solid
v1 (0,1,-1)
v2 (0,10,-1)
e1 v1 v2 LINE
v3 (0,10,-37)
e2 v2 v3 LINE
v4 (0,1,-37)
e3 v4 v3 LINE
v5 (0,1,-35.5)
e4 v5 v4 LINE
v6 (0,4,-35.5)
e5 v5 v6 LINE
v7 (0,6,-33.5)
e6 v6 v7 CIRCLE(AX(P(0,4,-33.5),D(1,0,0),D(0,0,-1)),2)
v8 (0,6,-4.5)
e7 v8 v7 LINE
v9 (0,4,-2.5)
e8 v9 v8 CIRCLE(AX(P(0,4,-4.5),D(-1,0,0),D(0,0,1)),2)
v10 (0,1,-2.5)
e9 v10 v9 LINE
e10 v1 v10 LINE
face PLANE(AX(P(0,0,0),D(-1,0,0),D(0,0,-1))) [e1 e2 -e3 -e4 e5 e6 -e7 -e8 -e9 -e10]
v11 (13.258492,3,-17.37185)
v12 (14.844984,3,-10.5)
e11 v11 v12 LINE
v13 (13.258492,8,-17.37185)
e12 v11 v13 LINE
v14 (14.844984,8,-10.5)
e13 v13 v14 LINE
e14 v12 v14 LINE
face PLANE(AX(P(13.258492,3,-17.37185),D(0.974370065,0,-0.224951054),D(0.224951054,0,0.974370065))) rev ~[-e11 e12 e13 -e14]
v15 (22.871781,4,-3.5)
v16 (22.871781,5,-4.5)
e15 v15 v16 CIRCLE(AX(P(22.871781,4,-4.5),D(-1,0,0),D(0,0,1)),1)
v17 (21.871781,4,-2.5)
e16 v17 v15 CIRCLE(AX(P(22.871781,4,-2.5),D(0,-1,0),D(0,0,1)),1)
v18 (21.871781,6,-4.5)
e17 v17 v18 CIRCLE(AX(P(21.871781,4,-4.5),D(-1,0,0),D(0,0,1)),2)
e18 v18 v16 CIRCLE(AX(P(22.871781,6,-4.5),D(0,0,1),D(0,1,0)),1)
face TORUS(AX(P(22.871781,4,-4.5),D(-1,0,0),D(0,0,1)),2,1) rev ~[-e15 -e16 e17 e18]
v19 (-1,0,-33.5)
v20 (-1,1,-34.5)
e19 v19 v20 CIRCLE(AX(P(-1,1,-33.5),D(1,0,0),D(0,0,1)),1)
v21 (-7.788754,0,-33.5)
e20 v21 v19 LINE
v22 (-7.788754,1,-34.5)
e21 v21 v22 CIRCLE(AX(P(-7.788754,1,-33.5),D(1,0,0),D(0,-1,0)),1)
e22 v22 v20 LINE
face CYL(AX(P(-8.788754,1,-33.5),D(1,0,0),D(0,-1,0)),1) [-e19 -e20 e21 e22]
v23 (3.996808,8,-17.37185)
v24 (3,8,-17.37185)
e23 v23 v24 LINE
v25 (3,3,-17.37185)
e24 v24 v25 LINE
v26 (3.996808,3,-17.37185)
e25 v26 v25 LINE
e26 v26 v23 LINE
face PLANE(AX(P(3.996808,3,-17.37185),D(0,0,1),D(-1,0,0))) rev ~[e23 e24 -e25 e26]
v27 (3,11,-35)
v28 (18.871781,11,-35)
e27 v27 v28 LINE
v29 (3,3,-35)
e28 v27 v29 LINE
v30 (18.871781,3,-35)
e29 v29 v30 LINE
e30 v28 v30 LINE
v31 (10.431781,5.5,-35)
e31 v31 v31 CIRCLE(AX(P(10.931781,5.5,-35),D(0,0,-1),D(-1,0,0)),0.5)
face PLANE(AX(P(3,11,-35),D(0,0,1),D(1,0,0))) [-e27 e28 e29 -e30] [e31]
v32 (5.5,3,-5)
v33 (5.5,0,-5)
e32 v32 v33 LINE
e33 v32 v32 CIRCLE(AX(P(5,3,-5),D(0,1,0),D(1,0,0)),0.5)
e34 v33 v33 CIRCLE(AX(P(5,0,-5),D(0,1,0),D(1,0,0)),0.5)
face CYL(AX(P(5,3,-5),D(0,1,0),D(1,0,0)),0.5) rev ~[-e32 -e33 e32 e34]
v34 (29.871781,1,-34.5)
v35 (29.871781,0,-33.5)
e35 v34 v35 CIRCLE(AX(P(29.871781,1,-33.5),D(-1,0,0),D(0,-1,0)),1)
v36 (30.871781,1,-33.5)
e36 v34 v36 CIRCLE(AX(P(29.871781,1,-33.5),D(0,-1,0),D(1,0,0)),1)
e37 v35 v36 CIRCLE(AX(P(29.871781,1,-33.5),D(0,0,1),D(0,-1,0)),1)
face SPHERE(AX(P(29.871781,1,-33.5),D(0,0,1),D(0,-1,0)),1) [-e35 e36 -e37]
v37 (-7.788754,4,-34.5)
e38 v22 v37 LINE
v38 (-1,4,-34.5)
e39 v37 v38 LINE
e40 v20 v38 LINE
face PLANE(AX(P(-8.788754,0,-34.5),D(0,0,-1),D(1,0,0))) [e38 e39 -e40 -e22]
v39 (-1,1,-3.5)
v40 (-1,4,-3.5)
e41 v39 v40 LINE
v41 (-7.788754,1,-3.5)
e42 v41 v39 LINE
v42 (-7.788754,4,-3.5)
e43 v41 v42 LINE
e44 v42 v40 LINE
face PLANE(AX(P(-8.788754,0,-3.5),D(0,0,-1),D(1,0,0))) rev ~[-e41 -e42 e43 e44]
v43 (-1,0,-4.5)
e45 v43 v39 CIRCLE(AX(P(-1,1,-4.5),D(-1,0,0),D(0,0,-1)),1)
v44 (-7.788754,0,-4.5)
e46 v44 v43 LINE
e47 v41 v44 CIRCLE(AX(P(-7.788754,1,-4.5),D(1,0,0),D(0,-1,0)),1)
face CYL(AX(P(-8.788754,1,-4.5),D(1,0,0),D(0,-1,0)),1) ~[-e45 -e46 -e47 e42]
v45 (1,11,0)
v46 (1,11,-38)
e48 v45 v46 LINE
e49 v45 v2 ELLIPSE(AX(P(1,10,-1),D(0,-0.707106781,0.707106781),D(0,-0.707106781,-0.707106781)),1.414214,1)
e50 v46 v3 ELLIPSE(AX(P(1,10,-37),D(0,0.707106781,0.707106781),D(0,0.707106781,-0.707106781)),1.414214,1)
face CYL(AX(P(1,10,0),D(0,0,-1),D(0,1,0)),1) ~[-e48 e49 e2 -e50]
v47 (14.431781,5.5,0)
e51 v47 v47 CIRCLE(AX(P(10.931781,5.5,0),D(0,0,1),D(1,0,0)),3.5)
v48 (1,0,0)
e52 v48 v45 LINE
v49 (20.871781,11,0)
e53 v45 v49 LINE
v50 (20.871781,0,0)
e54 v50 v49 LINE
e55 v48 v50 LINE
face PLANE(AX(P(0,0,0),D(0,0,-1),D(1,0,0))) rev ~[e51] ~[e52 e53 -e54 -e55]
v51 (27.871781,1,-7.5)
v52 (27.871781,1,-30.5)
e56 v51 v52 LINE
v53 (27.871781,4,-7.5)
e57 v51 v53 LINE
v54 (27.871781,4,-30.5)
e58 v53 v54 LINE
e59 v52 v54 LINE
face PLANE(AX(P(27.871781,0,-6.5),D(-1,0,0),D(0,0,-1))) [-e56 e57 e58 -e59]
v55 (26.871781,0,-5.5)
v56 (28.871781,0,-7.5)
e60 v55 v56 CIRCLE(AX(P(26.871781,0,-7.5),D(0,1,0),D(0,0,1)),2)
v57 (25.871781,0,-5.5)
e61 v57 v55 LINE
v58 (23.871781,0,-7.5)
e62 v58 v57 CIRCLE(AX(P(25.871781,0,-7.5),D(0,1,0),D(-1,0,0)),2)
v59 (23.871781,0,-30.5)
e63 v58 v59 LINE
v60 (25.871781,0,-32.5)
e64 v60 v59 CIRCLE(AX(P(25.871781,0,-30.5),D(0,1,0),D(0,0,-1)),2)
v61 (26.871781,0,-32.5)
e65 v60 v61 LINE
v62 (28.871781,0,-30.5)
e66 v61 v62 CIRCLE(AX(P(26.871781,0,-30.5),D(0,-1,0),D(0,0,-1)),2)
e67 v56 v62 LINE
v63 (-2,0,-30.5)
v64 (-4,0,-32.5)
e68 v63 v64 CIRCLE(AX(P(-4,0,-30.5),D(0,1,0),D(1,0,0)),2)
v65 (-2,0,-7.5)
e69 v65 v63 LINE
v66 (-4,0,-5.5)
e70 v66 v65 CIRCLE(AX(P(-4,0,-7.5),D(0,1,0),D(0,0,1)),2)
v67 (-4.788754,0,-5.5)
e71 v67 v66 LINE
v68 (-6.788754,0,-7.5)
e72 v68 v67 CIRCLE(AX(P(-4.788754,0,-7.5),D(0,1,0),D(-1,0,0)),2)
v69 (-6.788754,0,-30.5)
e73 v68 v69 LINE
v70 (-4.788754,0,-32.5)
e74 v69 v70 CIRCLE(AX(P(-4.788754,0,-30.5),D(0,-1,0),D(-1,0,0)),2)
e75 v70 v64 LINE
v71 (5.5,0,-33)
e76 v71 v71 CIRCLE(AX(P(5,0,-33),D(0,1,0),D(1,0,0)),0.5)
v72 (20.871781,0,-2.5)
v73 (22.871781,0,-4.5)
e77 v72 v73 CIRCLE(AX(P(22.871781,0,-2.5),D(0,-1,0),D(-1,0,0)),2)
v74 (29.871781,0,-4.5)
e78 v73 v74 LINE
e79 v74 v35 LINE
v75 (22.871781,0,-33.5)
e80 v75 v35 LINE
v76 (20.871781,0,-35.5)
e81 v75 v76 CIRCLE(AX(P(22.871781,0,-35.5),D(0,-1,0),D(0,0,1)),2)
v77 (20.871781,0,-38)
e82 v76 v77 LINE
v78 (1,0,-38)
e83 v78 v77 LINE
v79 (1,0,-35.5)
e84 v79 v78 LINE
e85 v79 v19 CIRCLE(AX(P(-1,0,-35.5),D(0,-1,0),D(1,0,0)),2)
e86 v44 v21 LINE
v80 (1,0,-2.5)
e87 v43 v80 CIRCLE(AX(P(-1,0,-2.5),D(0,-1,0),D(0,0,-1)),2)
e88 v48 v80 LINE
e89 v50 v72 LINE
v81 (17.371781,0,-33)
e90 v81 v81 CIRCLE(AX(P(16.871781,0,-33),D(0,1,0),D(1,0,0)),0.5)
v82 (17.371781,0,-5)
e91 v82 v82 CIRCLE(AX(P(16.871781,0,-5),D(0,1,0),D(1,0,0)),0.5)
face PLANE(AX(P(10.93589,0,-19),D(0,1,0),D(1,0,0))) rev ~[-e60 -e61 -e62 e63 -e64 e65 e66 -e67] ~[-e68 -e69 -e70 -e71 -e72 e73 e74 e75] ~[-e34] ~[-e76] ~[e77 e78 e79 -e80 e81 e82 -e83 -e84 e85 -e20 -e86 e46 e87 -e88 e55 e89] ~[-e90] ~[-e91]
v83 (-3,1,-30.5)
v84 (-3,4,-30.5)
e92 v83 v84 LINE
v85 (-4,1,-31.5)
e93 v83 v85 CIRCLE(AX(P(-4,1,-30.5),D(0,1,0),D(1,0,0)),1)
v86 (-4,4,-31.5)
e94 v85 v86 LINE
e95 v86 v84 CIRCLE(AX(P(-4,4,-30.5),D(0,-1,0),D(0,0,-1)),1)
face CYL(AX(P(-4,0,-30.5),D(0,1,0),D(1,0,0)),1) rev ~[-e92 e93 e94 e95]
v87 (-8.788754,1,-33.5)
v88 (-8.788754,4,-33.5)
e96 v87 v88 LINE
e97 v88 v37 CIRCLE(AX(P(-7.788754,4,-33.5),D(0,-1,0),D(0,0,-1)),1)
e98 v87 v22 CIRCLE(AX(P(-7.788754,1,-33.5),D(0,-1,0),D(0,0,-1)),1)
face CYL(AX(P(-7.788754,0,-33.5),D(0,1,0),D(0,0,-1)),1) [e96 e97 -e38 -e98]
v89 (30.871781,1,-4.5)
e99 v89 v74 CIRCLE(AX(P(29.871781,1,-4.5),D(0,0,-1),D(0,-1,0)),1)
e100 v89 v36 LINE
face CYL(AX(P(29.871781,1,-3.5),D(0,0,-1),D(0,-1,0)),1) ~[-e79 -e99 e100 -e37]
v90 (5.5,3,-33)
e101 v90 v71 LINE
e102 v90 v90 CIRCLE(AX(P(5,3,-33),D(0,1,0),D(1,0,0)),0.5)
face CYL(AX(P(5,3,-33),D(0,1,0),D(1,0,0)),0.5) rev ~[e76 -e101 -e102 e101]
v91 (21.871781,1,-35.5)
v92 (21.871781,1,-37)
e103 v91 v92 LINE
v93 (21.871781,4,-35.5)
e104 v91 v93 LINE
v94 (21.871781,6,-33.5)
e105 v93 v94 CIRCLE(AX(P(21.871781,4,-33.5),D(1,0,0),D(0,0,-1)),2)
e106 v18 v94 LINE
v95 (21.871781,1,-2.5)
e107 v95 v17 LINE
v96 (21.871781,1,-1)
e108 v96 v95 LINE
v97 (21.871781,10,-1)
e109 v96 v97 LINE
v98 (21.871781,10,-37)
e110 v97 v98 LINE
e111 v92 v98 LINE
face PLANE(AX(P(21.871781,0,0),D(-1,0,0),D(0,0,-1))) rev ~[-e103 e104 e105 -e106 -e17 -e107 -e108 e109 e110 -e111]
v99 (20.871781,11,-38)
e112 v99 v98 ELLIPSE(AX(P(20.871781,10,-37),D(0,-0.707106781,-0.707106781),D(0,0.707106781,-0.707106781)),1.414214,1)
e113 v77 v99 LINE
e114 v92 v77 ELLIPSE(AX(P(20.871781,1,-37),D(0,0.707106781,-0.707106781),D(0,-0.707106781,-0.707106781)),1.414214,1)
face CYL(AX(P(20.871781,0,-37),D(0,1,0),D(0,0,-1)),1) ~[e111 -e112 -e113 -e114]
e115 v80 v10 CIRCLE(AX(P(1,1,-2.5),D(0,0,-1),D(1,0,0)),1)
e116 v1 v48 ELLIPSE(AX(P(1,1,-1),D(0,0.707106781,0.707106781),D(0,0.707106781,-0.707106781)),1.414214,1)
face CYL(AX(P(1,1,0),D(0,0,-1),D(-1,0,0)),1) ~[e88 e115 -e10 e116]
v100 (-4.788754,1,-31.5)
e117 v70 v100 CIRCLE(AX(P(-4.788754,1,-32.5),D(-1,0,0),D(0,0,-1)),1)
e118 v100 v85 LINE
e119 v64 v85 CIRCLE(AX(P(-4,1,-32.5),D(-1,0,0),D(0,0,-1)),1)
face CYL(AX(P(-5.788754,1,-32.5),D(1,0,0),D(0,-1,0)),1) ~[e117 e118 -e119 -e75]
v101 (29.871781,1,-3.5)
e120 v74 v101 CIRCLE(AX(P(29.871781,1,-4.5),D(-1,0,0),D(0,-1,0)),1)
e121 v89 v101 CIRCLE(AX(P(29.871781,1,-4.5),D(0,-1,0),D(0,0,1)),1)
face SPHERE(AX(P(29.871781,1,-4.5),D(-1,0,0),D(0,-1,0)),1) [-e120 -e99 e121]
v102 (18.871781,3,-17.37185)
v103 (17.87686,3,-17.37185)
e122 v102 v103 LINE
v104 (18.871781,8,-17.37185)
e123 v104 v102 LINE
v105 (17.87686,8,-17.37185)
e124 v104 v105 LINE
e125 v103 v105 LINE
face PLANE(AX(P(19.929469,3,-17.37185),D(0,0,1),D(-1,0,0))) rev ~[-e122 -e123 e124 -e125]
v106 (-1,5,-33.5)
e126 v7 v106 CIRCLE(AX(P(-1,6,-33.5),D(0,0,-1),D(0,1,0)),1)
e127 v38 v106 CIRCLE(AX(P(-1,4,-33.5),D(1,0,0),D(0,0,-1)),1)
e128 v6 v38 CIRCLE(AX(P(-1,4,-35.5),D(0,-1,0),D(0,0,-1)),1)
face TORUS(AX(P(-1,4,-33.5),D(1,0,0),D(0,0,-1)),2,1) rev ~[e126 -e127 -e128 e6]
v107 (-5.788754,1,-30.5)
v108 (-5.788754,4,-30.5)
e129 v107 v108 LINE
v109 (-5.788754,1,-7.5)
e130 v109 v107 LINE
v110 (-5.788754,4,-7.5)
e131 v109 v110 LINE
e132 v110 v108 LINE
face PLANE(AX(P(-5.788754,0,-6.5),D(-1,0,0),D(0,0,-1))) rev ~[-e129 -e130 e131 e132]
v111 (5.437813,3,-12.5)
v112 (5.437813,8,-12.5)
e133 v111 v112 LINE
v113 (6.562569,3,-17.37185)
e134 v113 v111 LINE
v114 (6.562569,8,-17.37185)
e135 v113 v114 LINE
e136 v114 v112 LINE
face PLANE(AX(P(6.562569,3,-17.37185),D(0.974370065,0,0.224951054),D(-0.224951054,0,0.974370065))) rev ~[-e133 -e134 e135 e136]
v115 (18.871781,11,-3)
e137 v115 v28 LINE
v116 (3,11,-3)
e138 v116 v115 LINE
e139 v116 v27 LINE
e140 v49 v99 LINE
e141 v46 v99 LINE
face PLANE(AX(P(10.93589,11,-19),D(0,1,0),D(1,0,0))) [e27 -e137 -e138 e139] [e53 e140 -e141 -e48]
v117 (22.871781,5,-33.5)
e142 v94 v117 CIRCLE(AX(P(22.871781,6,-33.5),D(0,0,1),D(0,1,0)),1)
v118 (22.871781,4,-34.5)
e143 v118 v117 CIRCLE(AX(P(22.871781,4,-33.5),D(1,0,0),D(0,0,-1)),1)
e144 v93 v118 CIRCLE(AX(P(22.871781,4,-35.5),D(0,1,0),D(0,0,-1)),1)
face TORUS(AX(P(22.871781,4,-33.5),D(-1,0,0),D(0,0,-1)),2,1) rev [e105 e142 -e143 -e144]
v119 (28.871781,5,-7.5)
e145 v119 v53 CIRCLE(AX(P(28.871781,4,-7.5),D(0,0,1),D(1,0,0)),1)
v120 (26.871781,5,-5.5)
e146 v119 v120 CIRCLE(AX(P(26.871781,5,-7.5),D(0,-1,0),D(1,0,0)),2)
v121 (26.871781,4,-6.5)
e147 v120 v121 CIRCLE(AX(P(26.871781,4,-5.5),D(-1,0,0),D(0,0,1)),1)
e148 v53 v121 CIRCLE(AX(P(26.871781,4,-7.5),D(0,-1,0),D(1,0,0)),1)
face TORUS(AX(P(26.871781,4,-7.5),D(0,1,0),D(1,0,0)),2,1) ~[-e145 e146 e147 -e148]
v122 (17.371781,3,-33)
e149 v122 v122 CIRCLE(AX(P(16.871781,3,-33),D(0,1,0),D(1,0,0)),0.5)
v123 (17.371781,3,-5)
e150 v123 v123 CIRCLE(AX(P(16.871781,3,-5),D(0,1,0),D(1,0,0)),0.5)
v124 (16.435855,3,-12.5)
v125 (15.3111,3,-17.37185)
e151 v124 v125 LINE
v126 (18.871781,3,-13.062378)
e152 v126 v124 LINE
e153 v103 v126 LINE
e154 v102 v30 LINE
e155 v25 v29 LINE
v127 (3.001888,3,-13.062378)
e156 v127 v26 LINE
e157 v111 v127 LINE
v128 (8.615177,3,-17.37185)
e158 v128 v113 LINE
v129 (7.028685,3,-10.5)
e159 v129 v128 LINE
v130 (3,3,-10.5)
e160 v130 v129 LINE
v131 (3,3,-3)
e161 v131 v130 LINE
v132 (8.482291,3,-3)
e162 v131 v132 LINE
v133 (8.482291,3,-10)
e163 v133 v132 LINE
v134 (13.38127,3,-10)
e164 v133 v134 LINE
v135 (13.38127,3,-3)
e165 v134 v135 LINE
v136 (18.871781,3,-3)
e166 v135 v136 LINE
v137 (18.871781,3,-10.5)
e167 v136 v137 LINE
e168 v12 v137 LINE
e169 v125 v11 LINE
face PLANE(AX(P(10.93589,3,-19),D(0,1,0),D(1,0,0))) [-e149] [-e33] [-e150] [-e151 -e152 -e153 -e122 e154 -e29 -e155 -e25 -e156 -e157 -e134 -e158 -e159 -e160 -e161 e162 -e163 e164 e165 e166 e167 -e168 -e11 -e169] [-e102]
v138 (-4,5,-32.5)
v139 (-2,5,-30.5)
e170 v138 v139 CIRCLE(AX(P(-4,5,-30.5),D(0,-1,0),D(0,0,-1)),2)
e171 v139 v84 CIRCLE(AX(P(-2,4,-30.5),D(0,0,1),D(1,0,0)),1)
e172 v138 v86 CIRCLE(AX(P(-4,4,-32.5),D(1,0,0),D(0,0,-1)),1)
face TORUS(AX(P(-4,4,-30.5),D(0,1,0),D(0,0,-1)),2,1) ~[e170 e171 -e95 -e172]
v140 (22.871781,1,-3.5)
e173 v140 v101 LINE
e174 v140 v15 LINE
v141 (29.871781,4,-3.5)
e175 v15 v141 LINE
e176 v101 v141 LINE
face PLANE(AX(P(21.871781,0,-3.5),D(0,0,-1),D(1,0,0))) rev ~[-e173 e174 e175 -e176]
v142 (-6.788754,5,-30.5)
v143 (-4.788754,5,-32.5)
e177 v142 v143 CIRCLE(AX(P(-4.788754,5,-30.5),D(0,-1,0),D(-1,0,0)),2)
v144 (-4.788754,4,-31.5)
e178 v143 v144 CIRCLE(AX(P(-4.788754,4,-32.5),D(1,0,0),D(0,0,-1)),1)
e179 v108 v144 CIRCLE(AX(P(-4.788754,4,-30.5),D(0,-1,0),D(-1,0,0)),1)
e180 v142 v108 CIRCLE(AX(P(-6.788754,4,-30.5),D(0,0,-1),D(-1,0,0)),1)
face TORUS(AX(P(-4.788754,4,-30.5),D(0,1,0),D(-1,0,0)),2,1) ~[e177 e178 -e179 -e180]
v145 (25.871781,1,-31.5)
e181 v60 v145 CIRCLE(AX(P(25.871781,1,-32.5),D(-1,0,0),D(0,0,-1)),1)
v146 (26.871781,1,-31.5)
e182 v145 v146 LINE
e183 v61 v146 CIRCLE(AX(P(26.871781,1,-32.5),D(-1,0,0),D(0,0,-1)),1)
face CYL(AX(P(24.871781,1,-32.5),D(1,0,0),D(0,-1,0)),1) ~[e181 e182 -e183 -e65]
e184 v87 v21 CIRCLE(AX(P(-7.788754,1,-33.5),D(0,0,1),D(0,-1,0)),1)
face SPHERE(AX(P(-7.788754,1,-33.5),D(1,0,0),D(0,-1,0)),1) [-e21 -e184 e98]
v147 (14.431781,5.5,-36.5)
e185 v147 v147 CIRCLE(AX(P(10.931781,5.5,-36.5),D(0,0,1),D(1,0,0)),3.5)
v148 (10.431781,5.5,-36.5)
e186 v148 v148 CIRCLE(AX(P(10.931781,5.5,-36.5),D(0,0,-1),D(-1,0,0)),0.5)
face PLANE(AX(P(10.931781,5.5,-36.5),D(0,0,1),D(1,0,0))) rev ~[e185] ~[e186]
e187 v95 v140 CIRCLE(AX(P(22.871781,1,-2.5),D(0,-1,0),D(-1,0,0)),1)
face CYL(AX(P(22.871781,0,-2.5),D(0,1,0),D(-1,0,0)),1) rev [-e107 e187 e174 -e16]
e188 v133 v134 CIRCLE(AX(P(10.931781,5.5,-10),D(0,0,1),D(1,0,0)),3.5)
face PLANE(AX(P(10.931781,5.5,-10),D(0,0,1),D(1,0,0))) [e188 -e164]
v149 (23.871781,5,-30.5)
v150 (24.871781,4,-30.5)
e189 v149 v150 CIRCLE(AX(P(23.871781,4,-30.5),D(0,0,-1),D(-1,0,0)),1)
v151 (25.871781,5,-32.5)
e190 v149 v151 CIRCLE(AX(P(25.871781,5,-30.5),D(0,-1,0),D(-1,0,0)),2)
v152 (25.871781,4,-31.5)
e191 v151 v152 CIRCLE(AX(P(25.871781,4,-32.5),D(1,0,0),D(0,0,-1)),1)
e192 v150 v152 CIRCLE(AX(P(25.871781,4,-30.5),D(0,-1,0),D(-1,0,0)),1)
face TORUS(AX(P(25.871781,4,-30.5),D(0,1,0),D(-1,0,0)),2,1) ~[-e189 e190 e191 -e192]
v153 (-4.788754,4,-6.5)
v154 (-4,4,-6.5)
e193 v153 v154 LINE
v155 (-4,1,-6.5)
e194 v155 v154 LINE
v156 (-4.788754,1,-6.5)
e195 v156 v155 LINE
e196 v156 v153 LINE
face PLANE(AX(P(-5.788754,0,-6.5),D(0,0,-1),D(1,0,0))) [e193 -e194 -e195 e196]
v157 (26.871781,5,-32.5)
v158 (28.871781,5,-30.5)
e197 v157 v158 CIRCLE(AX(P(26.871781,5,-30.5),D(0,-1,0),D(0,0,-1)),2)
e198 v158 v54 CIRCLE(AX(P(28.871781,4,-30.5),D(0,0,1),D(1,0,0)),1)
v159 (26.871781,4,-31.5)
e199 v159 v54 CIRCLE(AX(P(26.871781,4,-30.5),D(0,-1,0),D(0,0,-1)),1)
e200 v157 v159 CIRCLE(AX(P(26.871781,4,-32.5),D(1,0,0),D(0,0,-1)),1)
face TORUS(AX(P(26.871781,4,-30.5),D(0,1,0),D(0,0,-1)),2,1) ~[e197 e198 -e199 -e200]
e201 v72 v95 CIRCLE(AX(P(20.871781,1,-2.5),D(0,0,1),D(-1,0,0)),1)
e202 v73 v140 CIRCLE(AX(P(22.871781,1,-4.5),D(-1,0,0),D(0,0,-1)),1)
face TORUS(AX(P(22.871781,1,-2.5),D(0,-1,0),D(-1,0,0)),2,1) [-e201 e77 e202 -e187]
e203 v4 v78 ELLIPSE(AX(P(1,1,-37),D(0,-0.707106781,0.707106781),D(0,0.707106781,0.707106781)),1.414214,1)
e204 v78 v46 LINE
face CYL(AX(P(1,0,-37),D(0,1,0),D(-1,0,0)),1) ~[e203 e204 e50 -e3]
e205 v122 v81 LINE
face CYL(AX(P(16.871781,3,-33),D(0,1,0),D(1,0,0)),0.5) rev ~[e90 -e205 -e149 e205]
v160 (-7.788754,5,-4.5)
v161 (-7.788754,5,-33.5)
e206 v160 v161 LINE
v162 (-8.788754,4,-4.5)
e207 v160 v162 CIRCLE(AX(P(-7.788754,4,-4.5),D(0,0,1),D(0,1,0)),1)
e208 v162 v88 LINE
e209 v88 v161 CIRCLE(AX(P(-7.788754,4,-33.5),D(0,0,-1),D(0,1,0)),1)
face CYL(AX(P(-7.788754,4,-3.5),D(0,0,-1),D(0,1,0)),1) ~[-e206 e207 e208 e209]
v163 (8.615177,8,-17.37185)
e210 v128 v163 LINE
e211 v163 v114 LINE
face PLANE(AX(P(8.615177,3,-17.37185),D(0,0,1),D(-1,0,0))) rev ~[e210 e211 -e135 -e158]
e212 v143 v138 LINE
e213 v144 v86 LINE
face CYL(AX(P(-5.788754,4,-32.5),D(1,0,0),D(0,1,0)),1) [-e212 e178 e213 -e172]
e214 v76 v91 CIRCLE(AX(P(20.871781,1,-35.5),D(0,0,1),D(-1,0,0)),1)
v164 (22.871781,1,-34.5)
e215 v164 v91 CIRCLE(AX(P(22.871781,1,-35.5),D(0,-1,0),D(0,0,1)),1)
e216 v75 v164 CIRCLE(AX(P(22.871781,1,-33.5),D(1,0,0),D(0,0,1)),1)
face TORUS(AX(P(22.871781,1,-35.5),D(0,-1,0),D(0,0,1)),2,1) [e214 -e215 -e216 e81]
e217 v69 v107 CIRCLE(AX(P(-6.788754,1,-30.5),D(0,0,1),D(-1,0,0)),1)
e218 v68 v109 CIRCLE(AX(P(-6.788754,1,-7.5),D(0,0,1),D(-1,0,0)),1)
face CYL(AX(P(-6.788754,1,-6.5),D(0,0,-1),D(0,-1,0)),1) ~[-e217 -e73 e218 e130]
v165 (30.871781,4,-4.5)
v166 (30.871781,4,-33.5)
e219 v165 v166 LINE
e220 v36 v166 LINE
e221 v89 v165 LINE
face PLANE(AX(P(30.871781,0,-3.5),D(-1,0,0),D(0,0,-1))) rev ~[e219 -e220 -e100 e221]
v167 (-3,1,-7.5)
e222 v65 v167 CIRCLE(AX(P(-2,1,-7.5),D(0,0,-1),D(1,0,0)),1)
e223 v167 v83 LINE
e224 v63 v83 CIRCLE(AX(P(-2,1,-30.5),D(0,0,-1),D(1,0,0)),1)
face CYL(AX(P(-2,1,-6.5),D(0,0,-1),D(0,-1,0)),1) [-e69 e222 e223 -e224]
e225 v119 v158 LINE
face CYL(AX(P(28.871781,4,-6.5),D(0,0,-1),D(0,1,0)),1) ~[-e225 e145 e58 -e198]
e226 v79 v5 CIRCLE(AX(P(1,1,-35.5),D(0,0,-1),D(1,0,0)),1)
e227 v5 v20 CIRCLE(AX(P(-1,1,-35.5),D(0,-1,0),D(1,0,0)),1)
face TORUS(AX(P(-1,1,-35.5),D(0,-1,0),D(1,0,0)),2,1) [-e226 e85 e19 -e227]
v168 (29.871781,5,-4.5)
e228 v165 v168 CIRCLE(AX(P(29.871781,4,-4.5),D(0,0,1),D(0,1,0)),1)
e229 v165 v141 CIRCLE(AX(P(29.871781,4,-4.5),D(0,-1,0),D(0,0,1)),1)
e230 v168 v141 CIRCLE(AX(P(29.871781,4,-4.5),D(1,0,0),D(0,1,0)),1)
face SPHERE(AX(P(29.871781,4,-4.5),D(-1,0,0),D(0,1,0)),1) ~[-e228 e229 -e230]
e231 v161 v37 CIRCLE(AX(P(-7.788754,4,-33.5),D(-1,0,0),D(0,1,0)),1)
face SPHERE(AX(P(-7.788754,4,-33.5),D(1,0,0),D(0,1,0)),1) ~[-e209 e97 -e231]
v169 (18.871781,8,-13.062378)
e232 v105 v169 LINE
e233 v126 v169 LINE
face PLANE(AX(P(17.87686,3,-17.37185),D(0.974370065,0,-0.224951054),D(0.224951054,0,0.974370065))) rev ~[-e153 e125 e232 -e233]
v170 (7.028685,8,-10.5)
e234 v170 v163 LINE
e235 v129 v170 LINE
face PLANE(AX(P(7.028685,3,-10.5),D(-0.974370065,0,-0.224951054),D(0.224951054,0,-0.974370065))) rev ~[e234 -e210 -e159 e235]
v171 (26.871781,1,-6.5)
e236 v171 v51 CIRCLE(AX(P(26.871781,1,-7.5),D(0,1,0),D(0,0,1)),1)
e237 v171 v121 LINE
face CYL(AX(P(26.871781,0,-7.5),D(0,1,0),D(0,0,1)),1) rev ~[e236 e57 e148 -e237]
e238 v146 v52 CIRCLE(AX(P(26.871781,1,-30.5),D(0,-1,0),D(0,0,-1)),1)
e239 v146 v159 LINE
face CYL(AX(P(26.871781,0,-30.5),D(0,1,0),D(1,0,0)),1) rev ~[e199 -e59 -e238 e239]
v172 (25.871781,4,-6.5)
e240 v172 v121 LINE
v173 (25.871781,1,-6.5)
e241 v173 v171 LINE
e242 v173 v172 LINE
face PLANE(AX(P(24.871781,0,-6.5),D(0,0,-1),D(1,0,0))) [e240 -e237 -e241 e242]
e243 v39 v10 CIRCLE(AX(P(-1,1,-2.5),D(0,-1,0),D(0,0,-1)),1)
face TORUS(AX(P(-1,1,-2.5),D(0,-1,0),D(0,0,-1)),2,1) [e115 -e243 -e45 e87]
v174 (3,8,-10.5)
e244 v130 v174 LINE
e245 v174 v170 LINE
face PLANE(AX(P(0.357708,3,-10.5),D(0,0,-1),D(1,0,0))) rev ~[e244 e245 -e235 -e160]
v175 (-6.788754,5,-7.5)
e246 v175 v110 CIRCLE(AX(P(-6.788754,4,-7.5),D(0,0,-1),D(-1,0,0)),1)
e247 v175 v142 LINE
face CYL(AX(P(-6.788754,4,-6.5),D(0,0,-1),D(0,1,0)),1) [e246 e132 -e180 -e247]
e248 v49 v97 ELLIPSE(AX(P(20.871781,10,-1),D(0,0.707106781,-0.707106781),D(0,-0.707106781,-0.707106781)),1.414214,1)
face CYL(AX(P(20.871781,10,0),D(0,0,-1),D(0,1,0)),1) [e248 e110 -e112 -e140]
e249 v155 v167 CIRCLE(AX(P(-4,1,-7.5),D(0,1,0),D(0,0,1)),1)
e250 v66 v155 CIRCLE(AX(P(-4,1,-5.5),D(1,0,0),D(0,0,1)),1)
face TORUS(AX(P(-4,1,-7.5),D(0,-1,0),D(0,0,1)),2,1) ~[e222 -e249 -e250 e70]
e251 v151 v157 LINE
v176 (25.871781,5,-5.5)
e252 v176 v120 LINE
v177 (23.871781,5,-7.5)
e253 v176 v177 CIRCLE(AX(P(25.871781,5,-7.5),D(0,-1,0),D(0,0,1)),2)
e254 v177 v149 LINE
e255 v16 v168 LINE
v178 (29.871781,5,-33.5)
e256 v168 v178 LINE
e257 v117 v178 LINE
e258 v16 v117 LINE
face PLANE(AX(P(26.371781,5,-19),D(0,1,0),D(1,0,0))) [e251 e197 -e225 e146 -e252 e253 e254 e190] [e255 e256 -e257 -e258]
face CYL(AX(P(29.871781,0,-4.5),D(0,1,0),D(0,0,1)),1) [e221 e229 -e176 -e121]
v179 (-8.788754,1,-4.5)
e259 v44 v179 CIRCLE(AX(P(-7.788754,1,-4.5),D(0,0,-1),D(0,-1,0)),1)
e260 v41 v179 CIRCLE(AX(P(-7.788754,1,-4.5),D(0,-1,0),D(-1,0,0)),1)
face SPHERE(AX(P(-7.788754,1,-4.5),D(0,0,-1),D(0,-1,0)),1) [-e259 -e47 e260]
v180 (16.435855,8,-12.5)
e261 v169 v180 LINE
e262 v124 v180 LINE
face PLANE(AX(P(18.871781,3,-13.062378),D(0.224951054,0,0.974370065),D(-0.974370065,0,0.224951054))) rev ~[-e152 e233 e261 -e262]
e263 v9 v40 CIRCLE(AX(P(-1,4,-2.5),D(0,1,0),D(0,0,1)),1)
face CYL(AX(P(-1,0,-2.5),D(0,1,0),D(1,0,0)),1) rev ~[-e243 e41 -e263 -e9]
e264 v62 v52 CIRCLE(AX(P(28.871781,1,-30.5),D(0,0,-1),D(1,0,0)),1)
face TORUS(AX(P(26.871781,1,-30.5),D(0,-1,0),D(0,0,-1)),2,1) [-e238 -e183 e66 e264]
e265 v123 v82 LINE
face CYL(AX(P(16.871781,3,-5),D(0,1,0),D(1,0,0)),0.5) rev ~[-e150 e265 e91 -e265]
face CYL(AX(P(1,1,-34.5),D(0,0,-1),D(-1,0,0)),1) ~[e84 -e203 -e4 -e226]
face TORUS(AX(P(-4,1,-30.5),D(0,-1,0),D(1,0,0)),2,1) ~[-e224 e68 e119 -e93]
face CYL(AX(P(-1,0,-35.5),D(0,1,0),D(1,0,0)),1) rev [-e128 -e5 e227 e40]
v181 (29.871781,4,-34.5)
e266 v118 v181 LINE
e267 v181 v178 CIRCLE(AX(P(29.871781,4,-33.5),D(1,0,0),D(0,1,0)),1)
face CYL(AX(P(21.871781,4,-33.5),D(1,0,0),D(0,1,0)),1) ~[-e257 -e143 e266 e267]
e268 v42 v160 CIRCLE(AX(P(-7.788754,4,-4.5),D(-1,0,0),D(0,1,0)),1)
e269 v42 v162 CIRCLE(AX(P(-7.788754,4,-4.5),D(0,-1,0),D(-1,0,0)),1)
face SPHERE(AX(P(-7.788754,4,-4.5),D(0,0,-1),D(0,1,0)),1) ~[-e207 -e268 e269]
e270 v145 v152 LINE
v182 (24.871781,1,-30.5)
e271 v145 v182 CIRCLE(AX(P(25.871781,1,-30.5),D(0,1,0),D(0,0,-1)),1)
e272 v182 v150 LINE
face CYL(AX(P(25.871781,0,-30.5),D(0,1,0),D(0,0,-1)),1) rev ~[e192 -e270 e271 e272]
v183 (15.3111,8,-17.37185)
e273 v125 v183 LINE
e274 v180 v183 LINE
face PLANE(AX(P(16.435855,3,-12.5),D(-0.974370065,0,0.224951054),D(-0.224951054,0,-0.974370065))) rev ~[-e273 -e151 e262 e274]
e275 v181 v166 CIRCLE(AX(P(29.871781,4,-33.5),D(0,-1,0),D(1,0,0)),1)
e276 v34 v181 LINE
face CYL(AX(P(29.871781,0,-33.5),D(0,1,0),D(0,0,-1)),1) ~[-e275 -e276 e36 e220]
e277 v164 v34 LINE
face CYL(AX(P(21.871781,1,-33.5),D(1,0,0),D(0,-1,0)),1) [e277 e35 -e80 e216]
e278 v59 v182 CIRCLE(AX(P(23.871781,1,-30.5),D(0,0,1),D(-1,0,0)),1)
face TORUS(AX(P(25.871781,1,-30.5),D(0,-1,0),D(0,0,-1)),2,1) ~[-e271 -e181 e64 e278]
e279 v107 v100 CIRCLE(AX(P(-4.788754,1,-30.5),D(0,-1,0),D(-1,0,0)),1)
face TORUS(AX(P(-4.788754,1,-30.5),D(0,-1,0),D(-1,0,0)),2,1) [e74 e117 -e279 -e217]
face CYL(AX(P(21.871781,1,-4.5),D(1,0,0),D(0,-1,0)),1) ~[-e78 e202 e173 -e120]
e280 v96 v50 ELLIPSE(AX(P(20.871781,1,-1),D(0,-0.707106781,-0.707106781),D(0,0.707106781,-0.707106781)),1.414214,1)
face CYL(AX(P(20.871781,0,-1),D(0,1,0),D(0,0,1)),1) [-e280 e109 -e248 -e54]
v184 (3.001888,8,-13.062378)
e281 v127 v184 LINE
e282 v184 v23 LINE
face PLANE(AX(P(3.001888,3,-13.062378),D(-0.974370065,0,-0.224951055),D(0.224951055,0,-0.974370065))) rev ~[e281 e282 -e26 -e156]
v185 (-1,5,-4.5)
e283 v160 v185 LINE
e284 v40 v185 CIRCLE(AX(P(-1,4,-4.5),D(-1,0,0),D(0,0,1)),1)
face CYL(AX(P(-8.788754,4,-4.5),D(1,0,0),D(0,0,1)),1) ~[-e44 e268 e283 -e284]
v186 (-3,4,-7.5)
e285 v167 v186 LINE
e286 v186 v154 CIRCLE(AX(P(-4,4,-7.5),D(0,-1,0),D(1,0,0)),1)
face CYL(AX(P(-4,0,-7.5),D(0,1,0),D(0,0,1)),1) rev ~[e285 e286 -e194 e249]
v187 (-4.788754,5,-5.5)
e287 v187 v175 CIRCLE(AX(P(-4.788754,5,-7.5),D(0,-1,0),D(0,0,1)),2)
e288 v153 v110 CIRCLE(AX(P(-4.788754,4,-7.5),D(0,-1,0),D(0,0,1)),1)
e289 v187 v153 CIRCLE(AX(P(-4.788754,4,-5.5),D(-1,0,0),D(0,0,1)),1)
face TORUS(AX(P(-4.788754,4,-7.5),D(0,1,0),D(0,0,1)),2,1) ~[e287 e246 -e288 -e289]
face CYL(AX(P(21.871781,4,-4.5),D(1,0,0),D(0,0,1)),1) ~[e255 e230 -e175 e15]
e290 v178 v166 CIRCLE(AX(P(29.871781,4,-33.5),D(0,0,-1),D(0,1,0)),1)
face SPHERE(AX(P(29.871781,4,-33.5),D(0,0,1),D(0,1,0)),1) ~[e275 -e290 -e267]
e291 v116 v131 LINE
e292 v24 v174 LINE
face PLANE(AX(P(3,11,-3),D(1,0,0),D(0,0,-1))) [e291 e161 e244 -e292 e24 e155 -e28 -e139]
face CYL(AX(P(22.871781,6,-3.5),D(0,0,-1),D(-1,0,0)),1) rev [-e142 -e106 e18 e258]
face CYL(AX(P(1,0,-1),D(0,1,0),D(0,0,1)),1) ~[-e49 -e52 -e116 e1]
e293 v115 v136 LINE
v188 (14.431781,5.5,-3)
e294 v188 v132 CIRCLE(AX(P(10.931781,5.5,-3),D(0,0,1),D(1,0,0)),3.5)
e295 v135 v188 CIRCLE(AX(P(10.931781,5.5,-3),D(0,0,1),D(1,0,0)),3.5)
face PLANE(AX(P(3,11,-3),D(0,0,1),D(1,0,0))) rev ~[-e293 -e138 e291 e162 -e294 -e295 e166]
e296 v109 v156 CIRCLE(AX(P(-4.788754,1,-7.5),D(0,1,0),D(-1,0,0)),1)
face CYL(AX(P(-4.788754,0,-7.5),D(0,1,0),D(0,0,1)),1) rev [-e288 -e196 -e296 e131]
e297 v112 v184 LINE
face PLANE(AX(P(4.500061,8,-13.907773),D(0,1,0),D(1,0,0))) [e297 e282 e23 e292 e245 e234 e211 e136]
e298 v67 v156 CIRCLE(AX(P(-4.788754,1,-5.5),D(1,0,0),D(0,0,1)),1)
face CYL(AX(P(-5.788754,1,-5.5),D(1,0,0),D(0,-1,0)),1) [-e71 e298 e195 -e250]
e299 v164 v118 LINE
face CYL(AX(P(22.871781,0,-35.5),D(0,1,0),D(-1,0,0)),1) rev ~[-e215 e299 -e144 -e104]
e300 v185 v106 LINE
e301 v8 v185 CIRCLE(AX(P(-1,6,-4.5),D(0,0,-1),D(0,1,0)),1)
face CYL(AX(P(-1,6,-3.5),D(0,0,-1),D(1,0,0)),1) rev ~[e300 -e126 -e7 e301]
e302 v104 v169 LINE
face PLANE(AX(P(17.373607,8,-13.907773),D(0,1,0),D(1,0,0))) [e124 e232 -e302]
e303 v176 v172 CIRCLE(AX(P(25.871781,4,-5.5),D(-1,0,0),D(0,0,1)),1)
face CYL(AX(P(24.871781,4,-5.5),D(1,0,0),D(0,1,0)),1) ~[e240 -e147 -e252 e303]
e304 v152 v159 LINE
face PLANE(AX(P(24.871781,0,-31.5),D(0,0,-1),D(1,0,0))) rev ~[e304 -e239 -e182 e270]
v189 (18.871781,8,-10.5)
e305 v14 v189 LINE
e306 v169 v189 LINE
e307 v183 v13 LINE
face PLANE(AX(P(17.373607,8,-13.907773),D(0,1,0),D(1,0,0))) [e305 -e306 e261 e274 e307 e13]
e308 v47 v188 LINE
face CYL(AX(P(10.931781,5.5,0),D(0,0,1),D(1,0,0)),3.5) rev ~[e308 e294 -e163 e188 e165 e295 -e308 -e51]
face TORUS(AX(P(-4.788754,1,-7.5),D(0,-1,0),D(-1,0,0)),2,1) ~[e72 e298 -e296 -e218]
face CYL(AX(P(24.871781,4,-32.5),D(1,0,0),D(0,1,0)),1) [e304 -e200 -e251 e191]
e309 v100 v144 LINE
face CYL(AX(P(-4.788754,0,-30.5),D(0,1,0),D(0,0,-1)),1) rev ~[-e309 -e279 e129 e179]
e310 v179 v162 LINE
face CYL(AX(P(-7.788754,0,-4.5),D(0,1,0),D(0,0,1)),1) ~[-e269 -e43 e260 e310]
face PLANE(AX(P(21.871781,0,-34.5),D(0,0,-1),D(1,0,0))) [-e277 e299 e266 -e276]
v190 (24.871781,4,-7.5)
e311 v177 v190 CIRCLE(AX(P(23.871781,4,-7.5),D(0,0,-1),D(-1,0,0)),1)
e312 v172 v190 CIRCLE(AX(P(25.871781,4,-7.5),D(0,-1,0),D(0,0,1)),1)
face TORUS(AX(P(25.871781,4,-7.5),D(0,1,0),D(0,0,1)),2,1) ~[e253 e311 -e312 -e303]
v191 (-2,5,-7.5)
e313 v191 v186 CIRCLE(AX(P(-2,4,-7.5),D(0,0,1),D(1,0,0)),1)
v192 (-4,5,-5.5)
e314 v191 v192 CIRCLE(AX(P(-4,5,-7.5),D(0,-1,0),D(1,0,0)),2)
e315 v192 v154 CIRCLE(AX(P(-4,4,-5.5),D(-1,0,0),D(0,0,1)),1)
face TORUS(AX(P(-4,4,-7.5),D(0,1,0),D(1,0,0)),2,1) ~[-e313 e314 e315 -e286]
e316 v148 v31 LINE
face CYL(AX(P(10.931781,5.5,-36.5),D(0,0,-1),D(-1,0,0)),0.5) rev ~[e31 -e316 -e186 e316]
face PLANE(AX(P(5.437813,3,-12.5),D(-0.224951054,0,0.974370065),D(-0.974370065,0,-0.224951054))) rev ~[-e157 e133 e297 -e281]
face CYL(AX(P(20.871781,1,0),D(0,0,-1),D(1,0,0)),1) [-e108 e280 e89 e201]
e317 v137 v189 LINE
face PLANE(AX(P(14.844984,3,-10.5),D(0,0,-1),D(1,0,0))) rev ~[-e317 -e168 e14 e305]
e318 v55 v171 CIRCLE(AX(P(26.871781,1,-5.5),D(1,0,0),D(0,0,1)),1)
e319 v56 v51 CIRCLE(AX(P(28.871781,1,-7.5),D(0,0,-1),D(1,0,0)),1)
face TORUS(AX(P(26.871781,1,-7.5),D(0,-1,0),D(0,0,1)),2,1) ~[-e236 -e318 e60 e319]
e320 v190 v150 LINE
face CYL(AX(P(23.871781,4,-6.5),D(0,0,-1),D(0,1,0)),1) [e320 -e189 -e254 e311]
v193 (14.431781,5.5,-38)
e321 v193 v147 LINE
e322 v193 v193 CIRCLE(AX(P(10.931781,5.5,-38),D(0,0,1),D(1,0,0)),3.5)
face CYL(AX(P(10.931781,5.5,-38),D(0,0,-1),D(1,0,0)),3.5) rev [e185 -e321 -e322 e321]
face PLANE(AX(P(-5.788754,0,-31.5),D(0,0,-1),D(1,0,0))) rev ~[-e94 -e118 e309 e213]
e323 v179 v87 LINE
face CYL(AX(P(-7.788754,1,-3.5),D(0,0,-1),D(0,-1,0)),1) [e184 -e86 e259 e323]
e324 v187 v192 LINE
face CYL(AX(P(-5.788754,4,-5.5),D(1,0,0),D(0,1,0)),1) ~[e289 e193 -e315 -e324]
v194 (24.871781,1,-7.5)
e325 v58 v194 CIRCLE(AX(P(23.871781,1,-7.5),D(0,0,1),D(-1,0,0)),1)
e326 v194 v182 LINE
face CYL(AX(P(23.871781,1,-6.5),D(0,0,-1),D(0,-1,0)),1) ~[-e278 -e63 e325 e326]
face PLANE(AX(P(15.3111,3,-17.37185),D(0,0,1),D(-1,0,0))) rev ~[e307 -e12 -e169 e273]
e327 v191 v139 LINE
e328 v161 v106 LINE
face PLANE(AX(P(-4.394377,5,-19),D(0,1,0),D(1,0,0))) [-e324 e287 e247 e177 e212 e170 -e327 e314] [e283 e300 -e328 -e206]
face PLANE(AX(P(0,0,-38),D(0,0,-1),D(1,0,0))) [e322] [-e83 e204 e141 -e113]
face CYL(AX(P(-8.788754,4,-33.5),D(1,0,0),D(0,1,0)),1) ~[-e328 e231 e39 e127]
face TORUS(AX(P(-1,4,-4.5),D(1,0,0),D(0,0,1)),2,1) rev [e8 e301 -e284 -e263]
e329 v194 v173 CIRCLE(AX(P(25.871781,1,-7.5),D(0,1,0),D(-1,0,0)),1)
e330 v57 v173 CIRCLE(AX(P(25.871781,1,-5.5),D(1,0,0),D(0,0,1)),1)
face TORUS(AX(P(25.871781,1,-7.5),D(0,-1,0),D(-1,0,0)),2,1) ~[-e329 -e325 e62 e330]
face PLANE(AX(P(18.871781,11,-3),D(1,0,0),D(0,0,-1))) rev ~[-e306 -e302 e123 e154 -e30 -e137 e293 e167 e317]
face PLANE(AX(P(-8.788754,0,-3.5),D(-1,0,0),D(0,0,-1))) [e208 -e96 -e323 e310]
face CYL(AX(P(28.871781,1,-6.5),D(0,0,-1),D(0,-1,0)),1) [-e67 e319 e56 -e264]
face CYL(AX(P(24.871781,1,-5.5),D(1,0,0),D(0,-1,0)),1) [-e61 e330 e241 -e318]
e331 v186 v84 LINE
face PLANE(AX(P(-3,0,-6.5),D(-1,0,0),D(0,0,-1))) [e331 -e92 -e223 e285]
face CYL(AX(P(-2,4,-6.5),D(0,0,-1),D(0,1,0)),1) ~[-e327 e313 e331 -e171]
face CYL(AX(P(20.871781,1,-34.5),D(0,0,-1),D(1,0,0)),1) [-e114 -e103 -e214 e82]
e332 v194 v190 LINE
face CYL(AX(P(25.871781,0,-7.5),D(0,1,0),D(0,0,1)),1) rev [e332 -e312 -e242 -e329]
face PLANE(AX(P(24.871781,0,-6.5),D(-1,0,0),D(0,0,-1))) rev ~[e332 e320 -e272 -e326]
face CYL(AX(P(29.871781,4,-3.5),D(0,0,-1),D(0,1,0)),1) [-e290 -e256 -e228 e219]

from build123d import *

# Parameters (mm, degrees)
SKETCH1_W           = 21.87178063
SKETCH1_H           = 38
BOSS_EXTRUDE2_DEPTH = 11
SKETCH2_W           = 15.87178063
SKETCH2_H           = 32
CUT_EXTRUDE1_DEPTH  = 8
BOSS_EXTRUDE4_DEPTH = 5
SKETCH4_R           = 3.5
CUT_EXTRUDE2_DEPTH  = 10
SKETCH9_R           = 3.5
CUT_EXTRUDE3_DEPTH  = 1.5
SKETCH8_W           = 8.788754456
SKETCH8_H           = 31
SKETCH8_W_2         = 2.788754456
SKETCH8_H_2         = 25
SKETCH8_W_3         = 9
SKETCH8_W_4         = 3
BOSS_EXTRUDE5_DEPTH = 5
FILLET1_R           = 1
SKETCH10_R          = 0.5
CUT_EXTRUDE4_DEPTH  = 1.5
SKETCH11_R          = 0.5
CUT_EXTRUDE5_DEPTH  = 3


with BuildPart() as part:
    # Sketch1 → Boss-Extrude2 (new body)
    with BuildSketch(Plane(origin=(0, 0, 0), x_dir=(1, 0, 0), z_dir=(0, 1, 0))):
        with Locations((10.935890315, 19)):
            Rectangle(SKETCH1_W, SKETCH1_H)
    extrude(amount=BOSS_EXTRUDE2_DEPTH)

    # Sketch2 → Cut-Extrude1 (cut)
    with BuildSketch(Plane(origin=(0, 11, 0), x_dir=(1, 0, 0), z_dir=(0, 1, 0))):
        with Locations((10.935890315, 19)):
            Rectangle(SKETCH2_W, SKETCH2_H)
    extrude(amount=-CUT_EXTRUDE1_DEPTH, mode=Mode.SUBTRACT)

    # Sketch3 → Boss-Extrude4 (add)
    with BuildSketch(Plane(origin=(0, 3, 0), x_dir=(1, 0, 0), z_dir=(0, 1, 0))):
        Polygon((6.562568566, 17.371850324), (5.437813294, 12.5), (3.001888132, 13.062377636), (3.996808297, 17.371850324), (1.944200081, 17.371850324), (0.357708427, 10.5), (7.028685128, 10.5), (8.615176782, 17.371850324), align=None)
        Polygon((18.87178063, 13.062377636), (16.435855468, 12.5), (15.311100196, 17.371850324), (13.258491981, 17.371850324), (14.844983635, 10.5), (21.515960335, 10.5), (19.929468681, 17.371850324), (17.876860466, 17.371850324), align=None)
    extrude(amount=BOSS_EXTRUDE4_DEPTH)

    # Sketch4 → Cut-Extrude2 (cut)
    with BuildSketch(Plane.XY):
        with Locations((10.93178063, 5.5)):
            Circle(SKETCH4_R)
    extrude(amount=-CUT_EXTRUDE2_DEPTH, mode=Mode.SUBTRACT)

    # Sketch9 → Cut-Extrude3 (cut)
    with BuildSketch(Plane.XY.offset(-38)):
        with Locations((10.93178063, 5.5)):
            Circle(SKETCH9_R)
    extrude(amount=CUT_EXTRUDE3_DEPTH, mode=Mode.SUBTRACT)

    # Sketch8 → Boss-Extrude5 (add)
    with BuildSketch(Plane(origin=(0, 0, 0), x_dir=(1, 0, 0), z_dir=(0, 1, 0))):
        with Locations((-4.394377228, 19)):
            Rectangle(SKETCH8_W, SKETCH8_H)
        with Locations((-4.394377228, 19)):
            Rectangle(SKETCH8_W_2, SKETCH8_H_2, mode=Mode.SUBTRACT)
        with Locations((26.37178063, 19)):
            Rectangle(SKETCH8_W_3, SKETCH8_H)
        with Locations((26.37178063, 19)):
            Rectangle(SKETCH8_W_4, SKETCH8_H_2, mode=Mode.SUBTRACT)
    extrude(amount=BOSS_EXTRUDE5_DEPTH)

    # Fillet1
    fillet1_edges = [part.edges().sort_by_distance(p)[0] for p in [
        (21.87178063, 11, -19),
        (-4.394377228, 5, -31.5),
        (-5.788754456, 2.5, -31.5),
        (21.87178063, 0, -36.25),
        (21.87178063, 5, -19),
        (26.37178063, 5, -3.5),
        (30.87178063, 5, -19),
        (26.37178063, 5, -34.5),
        (26.37178063, 0, -31.5),
        (24.87178063, 0, -19),
        (26.37178063, 0, -6.5),
        (27.87178063, 0, -19),
        (21.87178063, 2.5, -34.5),
        (26.37178063, 0, -3.5),
        (21.87178063, 2.5, -3.5),
        (30.87178063, 0, -19),
        (30.87178063, 2.5, -3.5),
        (26.37178063, 0, -34.5),
        (30.87178063, 2.5, -34.5),
        (24.87178063, 5, -19),
        (24.87178063, 2.5, -6.5),
        (26.37178063, 5, -6.5),
        (27.87178063, 2.5, -6.5),
        (27.87178063, 5, -19),
        (27.87178063, 2.5, -31.5),
        (26.37178063, 5, -31.5),
        (24.87178063, 2.5, -31.5),
        (0, 11, -19),
        (21.87178063, 0, -1.75),
        (0, 0, -1.75),
        (0, 5.5, 0),
        (21.87178063, 5.5, 0),
        (21.87178063, 5.5, -38),
        (0, 5.5, -38),
        (0, 0, -36.25),
        (0, 5, -19),
        (-4.394377228, 5, -34.5),
        (-8.788754456, 5, -19),
        (-4.394377228, 5, -3.5),
        (-5.788754456, 0, -19),
        (-4.394377228, 0, -6.5),
        (-3, 0, -19),
        (-4.394377228, 0, -31.5),
        (0, 2.5, -3.5),
        (-4.394377228, 0, -34.5),
        (0, 2.5, -34.5),
        (-8.788754456, 0, -19),
        (-8.788754456, 2.5, -34.5),
        (-4.394377228, 0, -3.5),
        (-8.788754456, 2.5, -3.5),
        (-5.788754456, 5, -19),
        (-5.788754456, 2.5, -6.5),
        (-4.394377228, 5, -6.5),
        (-3, 2.5, -6.5),
        (-3, 5, -19),
        (-3, 2.5, -31.5),
    ]]
    fillet(fillet1_edges, radius=FILLET1_R)

    # Sketch10 → Cut-Extrude4 (cut)
    with BuildSketch(Plane(origin=(0, 0, -36.5), x_dir=(-1, 0, 0), z_dir=(0, 0, -1))):
        with Locations((-10.93178063, 5.5)):
            Circle(SKETCH10_R)
    extrude(amount=-CUT_EXTRUDE4_DEPTH, mode=Mode.SUBTRACT)

    # Sketch11 → Cut-Extrude5 (cut)
    with BuildSketch(Plane(origin=(0, 3, 0), x_dir=(1, 0, 0), z_dir=(0, 1, 0))):
        with Locations((5, 33)):
            Circle(SKETCH11_R)
        with Locations((16.87178063, 33)):
            Circle(SKETCH11_R)
        with Locations((5, 5)):
            Circle(SKETCH11_R)
        with Locations((16.87178063, 5)):
            Circle(SKETCH11_R)
    extrude(amount=-CUT_EXTRUDE5_DEPTH, mode=Mode.SUBTRACT)


solid = part.part
